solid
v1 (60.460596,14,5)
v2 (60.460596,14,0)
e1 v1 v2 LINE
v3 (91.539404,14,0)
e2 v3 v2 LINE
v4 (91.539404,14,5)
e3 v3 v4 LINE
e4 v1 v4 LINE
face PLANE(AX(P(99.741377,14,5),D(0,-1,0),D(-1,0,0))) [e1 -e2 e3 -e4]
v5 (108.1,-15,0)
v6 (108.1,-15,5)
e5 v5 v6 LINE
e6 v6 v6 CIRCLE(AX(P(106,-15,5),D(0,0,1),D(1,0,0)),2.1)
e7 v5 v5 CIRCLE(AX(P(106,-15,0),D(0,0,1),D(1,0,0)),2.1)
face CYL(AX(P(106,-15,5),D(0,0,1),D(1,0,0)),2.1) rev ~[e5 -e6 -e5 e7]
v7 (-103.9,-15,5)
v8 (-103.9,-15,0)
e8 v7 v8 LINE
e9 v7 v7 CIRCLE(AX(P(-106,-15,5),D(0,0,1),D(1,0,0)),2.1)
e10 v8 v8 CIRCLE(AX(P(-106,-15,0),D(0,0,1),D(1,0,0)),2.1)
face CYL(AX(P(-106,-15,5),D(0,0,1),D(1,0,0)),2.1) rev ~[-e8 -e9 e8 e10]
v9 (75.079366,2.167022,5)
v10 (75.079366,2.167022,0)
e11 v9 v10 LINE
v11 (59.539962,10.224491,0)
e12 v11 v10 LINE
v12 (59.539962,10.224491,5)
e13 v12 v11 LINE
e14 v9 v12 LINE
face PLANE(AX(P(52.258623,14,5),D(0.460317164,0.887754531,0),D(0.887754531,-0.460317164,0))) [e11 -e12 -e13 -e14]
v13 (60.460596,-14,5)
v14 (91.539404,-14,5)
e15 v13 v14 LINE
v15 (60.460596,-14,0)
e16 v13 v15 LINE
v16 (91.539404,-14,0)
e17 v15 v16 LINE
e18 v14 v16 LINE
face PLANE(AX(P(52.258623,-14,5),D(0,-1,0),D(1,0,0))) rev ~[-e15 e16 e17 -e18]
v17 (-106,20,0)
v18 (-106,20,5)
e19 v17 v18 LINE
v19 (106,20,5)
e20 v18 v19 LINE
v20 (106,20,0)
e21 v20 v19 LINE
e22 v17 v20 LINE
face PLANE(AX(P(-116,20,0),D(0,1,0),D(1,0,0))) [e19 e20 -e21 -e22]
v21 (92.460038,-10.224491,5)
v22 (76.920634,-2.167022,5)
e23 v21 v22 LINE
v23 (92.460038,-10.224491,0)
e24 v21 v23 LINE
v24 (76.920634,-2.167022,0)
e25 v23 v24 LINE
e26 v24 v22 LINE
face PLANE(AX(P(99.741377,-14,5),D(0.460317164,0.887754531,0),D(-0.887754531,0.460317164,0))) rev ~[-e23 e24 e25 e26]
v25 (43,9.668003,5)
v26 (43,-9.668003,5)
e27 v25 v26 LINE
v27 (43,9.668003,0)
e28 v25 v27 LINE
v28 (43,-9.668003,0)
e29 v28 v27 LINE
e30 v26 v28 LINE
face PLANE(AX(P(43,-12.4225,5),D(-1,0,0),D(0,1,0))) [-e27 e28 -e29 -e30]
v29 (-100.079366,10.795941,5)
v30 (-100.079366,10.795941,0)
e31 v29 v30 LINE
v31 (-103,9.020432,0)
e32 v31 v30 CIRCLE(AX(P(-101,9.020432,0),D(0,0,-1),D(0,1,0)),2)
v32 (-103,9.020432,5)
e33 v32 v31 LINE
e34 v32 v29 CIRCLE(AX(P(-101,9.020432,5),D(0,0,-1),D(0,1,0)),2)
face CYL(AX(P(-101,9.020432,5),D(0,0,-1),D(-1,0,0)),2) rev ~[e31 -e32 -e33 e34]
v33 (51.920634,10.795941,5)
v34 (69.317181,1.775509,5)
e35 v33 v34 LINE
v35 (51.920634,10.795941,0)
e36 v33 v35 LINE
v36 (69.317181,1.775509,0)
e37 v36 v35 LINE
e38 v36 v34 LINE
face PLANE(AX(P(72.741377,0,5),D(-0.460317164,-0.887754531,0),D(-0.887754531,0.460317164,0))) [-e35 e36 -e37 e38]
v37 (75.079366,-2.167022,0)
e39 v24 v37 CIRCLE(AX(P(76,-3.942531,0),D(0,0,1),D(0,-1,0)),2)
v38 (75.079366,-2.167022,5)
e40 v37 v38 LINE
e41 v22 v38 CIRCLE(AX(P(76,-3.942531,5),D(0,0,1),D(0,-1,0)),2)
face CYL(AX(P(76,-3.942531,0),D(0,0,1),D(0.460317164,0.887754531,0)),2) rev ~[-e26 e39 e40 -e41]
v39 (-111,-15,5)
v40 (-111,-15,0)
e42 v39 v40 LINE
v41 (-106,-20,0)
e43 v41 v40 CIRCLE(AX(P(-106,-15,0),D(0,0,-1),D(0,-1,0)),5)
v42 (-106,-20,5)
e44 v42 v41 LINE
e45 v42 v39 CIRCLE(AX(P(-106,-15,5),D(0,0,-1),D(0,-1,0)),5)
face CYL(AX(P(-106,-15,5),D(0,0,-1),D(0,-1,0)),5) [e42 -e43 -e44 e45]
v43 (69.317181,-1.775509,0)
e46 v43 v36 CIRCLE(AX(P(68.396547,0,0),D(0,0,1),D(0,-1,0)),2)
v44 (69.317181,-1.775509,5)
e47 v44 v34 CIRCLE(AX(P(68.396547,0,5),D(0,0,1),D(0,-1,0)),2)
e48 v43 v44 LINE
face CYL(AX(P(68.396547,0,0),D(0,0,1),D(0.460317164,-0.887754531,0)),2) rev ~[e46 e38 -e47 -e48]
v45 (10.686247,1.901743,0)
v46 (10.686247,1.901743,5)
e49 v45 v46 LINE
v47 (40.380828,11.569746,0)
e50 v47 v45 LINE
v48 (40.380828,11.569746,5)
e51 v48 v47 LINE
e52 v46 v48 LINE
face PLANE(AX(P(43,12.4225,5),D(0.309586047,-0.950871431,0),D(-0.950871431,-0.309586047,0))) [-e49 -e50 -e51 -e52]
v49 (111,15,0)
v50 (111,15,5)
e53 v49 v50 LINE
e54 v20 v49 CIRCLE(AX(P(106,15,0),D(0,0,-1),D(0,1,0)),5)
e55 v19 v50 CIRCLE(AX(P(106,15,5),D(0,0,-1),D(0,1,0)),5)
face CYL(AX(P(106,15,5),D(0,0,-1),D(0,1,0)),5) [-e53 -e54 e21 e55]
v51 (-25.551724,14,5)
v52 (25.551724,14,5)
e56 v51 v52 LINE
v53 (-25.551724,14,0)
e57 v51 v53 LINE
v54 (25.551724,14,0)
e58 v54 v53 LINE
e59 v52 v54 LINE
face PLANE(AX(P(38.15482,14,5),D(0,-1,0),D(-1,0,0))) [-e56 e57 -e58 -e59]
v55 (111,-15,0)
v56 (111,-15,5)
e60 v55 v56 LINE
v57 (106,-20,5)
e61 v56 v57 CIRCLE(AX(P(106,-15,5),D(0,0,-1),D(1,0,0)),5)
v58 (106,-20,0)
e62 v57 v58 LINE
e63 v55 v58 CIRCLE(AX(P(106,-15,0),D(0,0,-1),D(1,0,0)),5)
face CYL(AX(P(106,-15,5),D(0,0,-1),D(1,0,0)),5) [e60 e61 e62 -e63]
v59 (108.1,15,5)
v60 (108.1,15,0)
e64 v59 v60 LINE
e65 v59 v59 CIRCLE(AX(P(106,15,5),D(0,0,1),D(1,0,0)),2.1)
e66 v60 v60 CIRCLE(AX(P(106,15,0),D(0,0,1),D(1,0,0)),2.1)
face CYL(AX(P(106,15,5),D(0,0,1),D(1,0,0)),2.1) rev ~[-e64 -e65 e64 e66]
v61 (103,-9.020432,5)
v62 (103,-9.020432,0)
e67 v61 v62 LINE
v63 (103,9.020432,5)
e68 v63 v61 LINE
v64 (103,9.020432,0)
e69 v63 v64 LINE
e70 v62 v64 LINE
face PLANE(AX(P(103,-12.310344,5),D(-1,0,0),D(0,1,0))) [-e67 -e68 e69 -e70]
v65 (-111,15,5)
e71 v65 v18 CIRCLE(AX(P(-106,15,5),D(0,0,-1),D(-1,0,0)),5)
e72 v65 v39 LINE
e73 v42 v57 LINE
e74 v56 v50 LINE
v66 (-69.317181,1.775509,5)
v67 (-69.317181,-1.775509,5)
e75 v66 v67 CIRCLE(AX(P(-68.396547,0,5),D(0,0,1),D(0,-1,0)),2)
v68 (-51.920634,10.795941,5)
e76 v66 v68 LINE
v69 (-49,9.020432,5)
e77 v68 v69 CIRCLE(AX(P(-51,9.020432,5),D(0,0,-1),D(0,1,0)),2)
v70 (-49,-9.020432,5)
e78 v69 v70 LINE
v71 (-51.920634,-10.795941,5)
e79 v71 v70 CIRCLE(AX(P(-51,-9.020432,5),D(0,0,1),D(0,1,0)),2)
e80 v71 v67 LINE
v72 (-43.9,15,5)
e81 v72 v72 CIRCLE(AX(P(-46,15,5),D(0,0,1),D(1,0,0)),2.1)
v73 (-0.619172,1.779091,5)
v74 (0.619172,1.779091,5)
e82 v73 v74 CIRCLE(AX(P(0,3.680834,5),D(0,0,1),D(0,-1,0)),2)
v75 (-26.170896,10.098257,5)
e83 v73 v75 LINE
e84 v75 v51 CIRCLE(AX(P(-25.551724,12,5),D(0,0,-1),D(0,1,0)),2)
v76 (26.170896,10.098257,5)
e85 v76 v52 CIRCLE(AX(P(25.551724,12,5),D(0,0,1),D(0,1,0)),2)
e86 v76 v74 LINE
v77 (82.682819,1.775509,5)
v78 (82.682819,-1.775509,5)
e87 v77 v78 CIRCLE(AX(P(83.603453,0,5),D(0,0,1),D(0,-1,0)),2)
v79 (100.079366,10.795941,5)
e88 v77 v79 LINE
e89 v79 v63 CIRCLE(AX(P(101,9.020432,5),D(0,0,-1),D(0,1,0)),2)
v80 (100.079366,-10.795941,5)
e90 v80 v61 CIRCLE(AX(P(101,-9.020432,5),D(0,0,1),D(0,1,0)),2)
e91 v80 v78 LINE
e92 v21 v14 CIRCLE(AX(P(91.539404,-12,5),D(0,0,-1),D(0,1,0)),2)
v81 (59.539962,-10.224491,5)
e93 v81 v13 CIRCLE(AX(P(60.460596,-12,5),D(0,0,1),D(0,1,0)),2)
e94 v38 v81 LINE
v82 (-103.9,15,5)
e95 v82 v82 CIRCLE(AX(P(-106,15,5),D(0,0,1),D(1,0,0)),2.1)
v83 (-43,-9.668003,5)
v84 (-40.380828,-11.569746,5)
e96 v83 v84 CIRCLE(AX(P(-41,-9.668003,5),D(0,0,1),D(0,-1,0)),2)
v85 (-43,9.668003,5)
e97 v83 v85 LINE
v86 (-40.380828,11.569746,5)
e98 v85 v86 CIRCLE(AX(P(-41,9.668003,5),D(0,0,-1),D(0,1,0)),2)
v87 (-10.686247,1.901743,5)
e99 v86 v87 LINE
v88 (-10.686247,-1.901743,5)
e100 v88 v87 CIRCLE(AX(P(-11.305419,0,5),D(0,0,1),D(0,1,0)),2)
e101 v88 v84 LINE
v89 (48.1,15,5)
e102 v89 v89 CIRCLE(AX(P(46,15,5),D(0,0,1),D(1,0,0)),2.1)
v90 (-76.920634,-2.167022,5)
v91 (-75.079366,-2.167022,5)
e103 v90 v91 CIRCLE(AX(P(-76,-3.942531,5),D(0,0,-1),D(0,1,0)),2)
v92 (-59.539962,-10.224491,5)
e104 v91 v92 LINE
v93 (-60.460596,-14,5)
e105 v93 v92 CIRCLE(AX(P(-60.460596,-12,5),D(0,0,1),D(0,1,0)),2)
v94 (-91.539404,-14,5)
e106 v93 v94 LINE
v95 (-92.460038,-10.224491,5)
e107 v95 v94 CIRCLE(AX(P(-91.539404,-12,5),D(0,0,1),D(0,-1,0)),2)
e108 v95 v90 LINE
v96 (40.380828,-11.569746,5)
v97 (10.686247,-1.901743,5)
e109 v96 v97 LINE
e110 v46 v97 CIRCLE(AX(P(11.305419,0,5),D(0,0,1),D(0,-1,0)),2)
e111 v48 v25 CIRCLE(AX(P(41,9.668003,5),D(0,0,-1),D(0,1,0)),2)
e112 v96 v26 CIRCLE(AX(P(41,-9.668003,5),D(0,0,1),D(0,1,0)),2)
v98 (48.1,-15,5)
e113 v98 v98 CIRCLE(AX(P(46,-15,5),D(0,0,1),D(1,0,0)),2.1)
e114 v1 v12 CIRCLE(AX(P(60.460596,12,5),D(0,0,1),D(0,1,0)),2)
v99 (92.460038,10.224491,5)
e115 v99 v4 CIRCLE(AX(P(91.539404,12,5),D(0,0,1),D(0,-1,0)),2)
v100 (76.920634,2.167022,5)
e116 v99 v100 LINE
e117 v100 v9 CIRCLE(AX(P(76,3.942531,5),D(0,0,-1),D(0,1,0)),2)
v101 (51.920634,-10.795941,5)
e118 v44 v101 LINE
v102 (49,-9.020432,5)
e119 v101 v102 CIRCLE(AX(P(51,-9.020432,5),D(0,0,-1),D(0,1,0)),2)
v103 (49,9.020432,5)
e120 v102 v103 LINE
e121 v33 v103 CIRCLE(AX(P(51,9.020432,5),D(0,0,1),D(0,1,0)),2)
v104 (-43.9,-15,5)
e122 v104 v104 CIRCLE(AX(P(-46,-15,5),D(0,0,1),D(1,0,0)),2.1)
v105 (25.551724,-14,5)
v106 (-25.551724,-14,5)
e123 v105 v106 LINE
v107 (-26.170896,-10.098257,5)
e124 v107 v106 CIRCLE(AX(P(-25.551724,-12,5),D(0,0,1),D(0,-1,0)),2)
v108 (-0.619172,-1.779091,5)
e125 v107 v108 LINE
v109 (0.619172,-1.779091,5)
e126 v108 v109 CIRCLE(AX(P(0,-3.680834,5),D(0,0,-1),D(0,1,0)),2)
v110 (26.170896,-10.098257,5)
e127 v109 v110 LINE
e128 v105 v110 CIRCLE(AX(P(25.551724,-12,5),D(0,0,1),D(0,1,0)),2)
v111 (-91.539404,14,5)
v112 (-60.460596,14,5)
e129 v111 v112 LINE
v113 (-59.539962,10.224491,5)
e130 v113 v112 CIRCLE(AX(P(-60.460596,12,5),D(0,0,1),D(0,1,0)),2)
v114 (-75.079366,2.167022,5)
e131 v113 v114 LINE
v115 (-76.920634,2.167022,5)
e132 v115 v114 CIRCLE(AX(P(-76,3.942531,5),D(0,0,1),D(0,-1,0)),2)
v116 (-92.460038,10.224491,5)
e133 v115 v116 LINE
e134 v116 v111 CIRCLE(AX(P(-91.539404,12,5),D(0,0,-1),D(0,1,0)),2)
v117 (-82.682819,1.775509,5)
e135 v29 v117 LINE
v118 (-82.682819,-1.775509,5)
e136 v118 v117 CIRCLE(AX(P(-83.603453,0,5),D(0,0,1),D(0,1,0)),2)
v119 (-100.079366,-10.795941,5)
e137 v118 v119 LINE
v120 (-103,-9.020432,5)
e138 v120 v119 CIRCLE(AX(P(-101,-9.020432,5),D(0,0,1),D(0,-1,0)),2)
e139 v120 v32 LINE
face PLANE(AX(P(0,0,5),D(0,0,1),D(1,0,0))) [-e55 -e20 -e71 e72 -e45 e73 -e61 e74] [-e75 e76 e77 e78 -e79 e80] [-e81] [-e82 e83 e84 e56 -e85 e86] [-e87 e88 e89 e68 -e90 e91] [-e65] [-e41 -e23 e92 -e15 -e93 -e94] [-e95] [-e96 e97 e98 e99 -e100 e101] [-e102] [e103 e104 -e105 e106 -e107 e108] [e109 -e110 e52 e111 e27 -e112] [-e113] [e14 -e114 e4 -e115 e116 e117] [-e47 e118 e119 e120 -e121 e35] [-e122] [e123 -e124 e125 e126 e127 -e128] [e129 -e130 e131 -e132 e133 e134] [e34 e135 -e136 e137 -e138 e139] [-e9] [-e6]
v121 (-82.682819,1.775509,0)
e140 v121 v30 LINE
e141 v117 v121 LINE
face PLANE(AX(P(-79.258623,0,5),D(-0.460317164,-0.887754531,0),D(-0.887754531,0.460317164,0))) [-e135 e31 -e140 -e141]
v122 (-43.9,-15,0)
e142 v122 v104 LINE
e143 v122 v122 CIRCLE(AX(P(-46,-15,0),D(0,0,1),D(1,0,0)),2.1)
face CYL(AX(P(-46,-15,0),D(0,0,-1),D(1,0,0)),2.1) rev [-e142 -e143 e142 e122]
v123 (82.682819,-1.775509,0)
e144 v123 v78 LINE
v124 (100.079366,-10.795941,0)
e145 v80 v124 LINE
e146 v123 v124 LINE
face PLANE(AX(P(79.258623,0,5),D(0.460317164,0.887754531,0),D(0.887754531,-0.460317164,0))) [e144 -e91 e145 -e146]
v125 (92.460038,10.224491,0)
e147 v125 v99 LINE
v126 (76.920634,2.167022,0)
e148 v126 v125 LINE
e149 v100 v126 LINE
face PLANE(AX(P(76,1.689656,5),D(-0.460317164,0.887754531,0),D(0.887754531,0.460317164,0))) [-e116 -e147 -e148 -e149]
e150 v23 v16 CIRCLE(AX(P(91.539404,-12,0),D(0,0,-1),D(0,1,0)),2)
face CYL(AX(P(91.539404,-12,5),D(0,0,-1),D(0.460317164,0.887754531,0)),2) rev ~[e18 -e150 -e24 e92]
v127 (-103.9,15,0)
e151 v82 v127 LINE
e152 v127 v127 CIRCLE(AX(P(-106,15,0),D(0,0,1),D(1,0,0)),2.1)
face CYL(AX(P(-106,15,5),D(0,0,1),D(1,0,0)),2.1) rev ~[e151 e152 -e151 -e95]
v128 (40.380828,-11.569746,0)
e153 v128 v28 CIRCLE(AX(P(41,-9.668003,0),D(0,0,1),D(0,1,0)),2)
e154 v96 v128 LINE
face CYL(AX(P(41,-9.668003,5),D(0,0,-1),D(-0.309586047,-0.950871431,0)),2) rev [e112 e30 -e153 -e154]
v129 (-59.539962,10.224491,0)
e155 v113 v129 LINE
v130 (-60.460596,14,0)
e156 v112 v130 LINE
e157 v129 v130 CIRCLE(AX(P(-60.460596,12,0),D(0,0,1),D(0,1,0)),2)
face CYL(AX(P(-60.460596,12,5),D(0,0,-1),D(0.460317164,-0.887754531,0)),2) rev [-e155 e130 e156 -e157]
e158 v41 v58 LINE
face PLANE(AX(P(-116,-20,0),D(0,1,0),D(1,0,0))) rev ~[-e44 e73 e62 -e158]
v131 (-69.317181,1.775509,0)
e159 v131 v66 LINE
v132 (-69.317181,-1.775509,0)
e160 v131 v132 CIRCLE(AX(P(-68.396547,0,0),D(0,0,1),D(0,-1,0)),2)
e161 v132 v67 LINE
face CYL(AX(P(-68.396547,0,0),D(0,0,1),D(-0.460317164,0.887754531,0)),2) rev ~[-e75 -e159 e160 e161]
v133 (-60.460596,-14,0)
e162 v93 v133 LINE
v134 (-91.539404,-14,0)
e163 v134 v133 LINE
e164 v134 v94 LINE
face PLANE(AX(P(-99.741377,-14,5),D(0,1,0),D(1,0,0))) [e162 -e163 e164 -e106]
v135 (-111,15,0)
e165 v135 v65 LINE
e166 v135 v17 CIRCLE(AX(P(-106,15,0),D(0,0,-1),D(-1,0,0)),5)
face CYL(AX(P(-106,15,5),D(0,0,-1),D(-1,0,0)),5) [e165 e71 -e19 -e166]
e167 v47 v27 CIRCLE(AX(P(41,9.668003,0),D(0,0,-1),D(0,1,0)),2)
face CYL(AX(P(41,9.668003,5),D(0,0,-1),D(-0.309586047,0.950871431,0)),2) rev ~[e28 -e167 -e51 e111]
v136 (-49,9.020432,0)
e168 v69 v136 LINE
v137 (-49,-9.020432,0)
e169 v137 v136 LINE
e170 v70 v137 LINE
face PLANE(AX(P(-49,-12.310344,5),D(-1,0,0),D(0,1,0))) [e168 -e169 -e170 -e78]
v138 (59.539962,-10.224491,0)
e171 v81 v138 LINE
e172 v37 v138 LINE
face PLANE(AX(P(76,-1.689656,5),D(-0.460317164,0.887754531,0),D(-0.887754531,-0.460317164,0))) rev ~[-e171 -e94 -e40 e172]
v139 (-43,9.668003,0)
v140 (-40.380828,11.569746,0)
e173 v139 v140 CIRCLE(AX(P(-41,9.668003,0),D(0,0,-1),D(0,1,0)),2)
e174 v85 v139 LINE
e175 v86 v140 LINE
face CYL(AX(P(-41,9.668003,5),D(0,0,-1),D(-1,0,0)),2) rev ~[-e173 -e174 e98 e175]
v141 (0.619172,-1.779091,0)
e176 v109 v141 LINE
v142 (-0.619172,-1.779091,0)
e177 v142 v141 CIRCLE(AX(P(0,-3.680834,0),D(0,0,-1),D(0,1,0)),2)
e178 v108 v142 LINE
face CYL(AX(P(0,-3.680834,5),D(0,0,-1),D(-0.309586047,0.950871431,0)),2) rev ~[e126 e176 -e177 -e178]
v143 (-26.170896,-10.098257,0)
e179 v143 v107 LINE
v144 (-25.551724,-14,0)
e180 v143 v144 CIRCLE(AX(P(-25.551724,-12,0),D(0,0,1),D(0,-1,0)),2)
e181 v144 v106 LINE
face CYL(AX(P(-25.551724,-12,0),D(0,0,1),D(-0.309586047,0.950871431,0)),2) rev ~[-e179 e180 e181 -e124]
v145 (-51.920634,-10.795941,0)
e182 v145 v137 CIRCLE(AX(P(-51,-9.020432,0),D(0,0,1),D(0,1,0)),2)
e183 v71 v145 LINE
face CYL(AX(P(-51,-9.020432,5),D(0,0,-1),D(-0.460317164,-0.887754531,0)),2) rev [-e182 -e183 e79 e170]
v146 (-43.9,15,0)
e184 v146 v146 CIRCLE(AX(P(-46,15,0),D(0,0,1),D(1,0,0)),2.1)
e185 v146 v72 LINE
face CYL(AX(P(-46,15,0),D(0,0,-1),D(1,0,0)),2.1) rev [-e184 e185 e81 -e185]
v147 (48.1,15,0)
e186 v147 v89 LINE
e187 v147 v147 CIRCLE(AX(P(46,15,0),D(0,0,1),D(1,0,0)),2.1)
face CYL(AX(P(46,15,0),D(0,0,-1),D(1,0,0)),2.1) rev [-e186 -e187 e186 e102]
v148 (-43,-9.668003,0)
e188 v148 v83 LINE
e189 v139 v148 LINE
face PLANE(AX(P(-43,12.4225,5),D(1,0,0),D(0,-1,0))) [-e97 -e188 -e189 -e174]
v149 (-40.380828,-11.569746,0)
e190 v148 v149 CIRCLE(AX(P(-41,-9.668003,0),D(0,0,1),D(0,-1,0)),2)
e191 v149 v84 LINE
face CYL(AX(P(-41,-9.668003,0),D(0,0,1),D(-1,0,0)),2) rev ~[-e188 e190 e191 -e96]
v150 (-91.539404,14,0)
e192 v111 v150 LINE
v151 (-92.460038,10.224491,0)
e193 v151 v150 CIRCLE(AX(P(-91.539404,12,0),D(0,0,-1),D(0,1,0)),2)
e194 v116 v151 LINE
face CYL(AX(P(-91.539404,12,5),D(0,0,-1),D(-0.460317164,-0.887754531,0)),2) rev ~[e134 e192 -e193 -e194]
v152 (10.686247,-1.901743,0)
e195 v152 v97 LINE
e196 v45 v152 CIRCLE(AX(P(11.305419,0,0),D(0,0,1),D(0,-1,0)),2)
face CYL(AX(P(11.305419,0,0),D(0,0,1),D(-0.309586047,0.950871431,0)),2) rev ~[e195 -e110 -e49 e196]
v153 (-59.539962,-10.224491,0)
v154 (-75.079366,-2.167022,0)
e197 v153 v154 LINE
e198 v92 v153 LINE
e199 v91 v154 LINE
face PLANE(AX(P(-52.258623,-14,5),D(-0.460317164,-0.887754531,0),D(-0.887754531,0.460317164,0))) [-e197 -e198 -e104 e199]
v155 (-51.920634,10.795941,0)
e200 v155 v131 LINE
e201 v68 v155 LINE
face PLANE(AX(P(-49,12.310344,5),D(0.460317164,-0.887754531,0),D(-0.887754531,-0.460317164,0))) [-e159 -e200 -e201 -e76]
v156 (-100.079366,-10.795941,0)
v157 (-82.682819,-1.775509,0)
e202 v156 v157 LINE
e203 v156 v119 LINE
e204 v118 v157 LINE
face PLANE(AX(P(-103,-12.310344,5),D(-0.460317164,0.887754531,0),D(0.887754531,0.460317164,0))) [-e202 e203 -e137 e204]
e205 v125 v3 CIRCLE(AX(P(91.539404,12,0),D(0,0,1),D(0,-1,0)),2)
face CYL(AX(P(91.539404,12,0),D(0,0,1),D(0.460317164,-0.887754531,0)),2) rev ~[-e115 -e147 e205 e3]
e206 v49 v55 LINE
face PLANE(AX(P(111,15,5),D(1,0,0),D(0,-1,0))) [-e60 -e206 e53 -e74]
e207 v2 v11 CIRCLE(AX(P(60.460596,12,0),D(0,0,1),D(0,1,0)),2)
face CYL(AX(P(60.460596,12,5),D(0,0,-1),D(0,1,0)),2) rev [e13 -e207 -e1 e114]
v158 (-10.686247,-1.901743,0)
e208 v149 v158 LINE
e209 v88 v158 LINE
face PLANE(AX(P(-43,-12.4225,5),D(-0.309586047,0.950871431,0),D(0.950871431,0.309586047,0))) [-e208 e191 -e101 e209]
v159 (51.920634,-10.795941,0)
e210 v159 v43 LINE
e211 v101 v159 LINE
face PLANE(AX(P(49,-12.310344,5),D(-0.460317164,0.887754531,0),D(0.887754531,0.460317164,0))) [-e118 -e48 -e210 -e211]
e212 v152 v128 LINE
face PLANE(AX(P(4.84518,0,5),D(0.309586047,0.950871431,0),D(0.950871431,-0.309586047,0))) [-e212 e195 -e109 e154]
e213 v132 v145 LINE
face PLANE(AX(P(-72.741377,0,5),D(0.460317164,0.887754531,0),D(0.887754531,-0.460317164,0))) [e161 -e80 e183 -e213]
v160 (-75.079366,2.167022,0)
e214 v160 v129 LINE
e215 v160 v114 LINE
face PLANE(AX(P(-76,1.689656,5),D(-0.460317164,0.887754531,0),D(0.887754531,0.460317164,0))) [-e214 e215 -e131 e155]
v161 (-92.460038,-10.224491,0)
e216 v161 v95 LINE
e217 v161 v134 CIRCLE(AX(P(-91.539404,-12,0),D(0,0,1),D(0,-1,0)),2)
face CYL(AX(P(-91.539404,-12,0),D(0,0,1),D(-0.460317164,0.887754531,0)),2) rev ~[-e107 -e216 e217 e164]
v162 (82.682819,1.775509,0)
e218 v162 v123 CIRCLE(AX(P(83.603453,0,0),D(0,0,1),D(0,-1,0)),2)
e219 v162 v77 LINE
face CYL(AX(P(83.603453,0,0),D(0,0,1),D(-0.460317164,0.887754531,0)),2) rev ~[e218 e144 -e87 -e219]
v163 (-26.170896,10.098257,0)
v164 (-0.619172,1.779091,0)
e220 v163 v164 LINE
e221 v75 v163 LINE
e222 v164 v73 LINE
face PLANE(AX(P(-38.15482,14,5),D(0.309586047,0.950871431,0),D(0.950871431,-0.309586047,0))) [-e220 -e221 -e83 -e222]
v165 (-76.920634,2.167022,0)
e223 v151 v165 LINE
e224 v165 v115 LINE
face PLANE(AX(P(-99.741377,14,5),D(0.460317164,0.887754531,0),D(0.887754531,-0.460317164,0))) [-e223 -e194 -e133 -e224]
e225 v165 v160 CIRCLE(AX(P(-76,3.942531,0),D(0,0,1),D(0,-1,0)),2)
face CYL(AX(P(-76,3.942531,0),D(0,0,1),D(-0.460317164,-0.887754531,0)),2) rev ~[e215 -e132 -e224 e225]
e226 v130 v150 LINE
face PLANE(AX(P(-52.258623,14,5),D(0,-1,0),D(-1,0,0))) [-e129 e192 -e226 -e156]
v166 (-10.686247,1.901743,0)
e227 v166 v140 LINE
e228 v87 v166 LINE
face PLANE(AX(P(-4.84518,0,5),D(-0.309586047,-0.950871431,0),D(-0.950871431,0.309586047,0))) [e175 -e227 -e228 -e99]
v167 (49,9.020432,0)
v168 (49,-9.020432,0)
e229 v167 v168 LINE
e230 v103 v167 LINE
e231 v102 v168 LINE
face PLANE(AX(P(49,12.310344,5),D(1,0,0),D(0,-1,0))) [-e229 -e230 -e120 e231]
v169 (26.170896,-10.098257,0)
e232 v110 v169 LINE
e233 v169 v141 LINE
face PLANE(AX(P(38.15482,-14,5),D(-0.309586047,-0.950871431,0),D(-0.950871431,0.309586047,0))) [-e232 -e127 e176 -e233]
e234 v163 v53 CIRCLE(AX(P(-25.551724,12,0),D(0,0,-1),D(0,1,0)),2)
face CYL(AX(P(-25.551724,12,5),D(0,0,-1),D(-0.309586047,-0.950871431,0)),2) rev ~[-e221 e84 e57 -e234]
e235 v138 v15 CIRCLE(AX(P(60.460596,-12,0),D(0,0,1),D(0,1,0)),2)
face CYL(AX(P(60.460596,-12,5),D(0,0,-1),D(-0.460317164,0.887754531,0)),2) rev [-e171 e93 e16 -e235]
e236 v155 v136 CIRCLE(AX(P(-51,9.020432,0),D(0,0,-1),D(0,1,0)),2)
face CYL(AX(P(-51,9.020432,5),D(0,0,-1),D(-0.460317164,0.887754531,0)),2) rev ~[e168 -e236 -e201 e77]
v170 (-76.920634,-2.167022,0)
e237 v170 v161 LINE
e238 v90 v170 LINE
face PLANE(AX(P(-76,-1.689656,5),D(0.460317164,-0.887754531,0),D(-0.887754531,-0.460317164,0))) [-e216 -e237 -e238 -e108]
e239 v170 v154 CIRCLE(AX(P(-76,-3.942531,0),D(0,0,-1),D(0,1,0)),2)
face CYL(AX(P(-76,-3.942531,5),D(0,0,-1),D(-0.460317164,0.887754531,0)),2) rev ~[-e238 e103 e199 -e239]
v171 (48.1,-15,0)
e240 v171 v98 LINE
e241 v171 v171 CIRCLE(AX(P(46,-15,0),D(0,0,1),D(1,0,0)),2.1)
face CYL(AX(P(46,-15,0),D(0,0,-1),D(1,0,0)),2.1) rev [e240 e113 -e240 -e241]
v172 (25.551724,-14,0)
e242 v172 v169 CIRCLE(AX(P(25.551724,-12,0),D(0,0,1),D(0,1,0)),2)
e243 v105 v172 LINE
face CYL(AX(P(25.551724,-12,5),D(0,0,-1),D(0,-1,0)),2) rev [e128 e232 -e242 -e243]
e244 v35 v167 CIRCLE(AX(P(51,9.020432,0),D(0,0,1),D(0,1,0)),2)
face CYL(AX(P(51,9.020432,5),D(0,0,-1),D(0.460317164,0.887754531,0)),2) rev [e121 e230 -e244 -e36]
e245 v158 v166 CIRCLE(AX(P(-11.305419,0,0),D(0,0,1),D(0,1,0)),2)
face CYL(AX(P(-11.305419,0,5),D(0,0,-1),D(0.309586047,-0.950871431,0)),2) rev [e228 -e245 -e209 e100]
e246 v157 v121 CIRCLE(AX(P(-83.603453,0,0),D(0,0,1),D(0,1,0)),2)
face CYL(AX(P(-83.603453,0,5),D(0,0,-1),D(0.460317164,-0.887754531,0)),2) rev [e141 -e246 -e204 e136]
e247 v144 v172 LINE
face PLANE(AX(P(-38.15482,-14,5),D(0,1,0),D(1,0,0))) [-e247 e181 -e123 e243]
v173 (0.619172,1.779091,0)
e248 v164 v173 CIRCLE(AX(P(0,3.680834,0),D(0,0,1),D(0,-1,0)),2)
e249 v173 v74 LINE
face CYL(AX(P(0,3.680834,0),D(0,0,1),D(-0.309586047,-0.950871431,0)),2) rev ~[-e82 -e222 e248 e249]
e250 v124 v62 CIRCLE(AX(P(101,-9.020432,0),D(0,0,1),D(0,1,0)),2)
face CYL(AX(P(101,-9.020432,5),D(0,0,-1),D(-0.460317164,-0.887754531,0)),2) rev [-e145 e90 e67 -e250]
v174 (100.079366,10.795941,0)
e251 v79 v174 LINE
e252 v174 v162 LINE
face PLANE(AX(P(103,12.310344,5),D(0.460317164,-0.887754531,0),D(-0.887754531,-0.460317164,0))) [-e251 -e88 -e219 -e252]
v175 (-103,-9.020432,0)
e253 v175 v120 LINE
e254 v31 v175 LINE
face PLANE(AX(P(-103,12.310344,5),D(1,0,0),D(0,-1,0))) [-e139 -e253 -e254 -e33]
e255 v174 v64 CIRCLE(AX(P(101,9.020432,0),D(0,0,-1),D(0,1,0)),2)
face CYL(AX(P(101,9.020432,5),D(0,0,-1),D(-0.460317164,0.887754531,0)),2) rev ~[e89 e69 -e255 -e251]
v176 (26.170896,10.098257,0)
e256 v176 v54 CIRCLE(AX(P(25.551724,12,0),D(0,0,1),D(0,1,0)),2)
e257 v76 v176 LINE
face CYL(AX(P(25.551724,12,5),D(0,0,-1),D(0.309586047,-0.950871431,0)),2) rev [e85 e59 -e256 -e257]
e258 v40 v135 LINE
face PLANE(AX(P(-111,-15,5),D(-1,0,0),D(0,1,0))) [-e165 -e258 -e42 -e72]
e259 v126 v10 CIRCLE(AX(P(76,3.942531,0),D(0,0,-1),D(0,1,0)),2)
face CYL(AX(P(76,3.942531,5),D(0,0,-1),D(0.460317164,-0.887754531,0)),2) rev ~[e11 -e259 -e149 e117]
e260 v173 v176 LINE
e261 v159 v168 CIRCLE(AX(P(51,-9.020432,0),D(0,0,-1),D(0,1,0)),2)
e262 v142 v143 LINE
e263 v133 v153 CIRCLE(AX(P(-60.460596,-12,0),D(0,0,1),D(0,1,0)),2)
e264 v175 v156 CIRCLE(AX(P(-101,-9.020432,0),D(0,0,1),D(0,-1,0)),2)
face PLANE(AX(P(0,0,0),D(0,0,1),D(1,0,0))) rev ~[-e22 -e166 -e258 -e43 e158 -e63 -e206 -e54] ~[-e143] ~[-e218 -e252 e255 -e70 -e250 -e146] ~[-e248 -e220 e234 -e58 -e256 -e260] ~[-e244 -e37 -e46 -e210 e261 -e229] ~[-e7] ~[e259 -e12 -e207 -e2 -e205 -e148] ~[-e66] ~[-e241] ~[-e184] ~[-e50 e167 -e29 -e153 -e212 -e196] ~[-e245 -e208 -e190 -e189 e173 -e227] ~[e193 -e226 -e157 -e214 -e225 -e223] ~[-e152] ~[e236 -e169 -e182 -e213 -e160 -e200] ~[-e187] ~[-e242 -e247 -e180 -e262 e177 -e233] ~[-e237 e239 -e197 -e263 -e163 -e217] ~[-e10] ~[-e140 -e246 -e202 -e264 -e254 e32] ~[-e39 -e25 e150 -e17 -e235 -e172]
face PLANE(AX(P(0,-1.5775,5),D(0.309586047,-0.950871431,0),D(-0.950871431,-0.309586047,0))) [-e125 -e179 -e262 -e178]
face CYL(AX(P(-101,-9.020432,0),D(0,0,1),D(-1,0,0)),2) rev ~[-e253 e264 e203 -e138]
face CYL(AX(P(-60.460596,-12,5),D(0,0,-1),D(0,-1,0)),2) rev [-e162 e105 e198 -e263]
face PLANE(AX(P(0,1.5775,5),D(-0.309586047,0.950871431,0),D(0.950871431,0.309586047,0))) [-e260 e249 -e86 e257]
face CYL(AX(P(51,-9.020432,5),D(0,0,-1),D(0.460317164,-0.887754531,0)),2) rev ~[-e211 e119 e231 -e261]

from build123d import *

# Parameters (mm, degrees)
SKETCH_1_W          = 232
SKETCH_1_H          = 40
SKETCH_1_R          = 2.1
EXTRUDE_2_DEPTH     = 5
SKETCH_3_R          = 2.1
CUT_EXTRUDE_2_DEPTH = 5
CUT_EXTRUDE_4_DEPTH = 5
FILLET_1_R          = 2


with BuildPart() as part:
    # 草图1 → 凸台-拉伸2 (new body)
    with BuildSketch(Plane.XY):
        Rectangle(SKETCH_1_W, SKETCH_1_H)
        with Locations((-46, 15)):
            Circle(SKETCH_1_R, mode=Mode.SUBTRACT)
        with Locations((46, 15)):
            Circle(SKETCH_1_R, mode=Mode.SUBTRACT)
        with Locations((46, -15)):
            Circle(SKETCH_1_R, mode=Mode.SUBTRACT)
        with Locations((-46, -15)):
            Circle(SKETCH_1_R, mode=Mode.SUBTRACT)
    extrude(amount=EXTRUDE_2_DEPTH)

    # 草图3 → 切除-拉伸2 (cut, symmetric)
    with BuildSketch(Plane.XY.offset(5)):
        with BuildLine():
            Line((-111, -15), (-111, 15))
            ThreePointArc((-111, 15), (-109.535533906, 18.535533906), (-106, 20))
            Line((-106, 20), (-116, 20))
            Line((-116, 20), (-116, -20))
            Line((-116, -20), (-106, -20))
            ThreePointArc((-106, -20), (-109.535533906, -18.535533906), (-111, -15))
        make_face()
        with Locations((-106, 15)):
            Circle(SKETCH_3_R)
        with Locations((-106, -15)):
            Circle(SKETCH_3_R)
        with BuildLine():
            Line((116, 20), (106, 20))
            ThreePointArc((106, 20), (109.535533906, 18.535533906), (111, 15))
            Line((111, 15), (111, -15))
            ThreePointArc((111, -15), (109.535533906, -18.535533906), (106, -20))
            Line((106, -20), (116, -20))
            Line((116, -20), (116, 20))
        make_face()
        with Locations((106, 15)):
            Circle(SKETCH_3_R)
        with Locations((106, -15)):
            Circle(SKETCH_3_R)
    extrude(amount=CUT_EXTRUDE_2_DEPTH, both=True, mode=Mode.SUBTRACT)

    # 草图4 → 切除-拉伸4 (cut, symmetric)
    with BuildSketch(Plane.XY.offset(5)):
        Polygon((-99.741377216, 14), (-76, 1.689656258), (-52.258622784, 14), align=None)
        Polygon((-103, 12.310343742), (-103, -12.310343742), (-79.258622784, 0), align=None)
        Polygon((-49, 12.310343742), (-72.741377216, 0), (-49, -12.310343742), align=None)
        Polygon((-76, -1.689656258), (-99.741377216, -14), (-52.258622784, -14), align=None)
        Polygon((-43, 12.422499667), (-43, -12.422499667), (-4.845179595, 0), align=None)
        Polygon((-38.154820405, 14), (0, 1.577500333), (38.154820405, 14), align=None)
        Polygon((43, 12.422499667), (4.845179595, 0), (43, -12.422499667), align=None)
        Polygon((0, -1.577500333), (-38.154820405, -14), (38.154820405, -14), align=None)
        Polygon((49, -12.310343742), (72.741377216, 0), (49, 12.310343742), align=None)
        Polygon((76, 1.689656258), (99.741377216, 14), (52.258622784, 14), align=None)
        Polygon((103, 12.310343742), (79.258622784, 0), (103, -12.310343742), align=None)
        Polygon((99.741377216, -14), (76, -1.689656258), (52.258622784, -14), align=None)
    extrude(amount=CUT_EXTRUDE_4_DEPTH, both=True, mode=Mode.SUBTRACT)

    # 圆角1
    fillet_1_edges = [part.edges().sort_by_distance(p)[0] for p in [
        (4.845179595, 0, 2.5),
        (43, 12.422499667, 2.5),
        (43, -12.422499667, 2.5),
        (0, 1.577500333, 2.5),
        (-38.154820405, 14, 2.5),
        (38.154820405, 14, 2.5),
        (-38.154820405, -14, 2.5),
        (0, -1.577500333, 2.5),
        (38.154820405, -14, 2.5),
        (49, -12.310343742, 2.5),
        (49, 12.310343742, 2.5),
        (72.741377216, 0, 2.5),
        (-103, -12.310343742, 2.5),
        (-103, 12.310343742, 2.5),
        (-79.258622784, 0, 2.5),
        (-72.741377216, 0, 2.5),
        (-49, 12.310343742, 2.5),
        (-49, -12.310343742, 2.5),
        (-76, -1.689656258, 2.5),
        (-52.258622784, -14, 2.5),
        (-99.741377216, -14, 2.5),
        (-43, -12.422499667, 2.5),
        (-43, 12.422499667, 2.5),
        (-4.845179595, 0, 2.5),
        (99.741377216, -14, 2.5),
        (52.258622784, -14, 2.5),
        (76, -1.689656258, 2.5),
        (99.741377216, 14, 2.5),
        (76, 1.689656258, 2.5),
        (52.258622784, 14, 2.5),
        (103, -12.310343742, 2.5),
        (79.258622784, 0, 2.5),
        (103, 12.310343742, 2.5),
        (-99.741377216, 14, 2.5),
        (-52.258622784, 14, 2.5),
        (-76, 1.689656258, 2.5),
    ]]
    fillet(fillet_1_edges, radius=FILLET_1_R)


solid = part.part
